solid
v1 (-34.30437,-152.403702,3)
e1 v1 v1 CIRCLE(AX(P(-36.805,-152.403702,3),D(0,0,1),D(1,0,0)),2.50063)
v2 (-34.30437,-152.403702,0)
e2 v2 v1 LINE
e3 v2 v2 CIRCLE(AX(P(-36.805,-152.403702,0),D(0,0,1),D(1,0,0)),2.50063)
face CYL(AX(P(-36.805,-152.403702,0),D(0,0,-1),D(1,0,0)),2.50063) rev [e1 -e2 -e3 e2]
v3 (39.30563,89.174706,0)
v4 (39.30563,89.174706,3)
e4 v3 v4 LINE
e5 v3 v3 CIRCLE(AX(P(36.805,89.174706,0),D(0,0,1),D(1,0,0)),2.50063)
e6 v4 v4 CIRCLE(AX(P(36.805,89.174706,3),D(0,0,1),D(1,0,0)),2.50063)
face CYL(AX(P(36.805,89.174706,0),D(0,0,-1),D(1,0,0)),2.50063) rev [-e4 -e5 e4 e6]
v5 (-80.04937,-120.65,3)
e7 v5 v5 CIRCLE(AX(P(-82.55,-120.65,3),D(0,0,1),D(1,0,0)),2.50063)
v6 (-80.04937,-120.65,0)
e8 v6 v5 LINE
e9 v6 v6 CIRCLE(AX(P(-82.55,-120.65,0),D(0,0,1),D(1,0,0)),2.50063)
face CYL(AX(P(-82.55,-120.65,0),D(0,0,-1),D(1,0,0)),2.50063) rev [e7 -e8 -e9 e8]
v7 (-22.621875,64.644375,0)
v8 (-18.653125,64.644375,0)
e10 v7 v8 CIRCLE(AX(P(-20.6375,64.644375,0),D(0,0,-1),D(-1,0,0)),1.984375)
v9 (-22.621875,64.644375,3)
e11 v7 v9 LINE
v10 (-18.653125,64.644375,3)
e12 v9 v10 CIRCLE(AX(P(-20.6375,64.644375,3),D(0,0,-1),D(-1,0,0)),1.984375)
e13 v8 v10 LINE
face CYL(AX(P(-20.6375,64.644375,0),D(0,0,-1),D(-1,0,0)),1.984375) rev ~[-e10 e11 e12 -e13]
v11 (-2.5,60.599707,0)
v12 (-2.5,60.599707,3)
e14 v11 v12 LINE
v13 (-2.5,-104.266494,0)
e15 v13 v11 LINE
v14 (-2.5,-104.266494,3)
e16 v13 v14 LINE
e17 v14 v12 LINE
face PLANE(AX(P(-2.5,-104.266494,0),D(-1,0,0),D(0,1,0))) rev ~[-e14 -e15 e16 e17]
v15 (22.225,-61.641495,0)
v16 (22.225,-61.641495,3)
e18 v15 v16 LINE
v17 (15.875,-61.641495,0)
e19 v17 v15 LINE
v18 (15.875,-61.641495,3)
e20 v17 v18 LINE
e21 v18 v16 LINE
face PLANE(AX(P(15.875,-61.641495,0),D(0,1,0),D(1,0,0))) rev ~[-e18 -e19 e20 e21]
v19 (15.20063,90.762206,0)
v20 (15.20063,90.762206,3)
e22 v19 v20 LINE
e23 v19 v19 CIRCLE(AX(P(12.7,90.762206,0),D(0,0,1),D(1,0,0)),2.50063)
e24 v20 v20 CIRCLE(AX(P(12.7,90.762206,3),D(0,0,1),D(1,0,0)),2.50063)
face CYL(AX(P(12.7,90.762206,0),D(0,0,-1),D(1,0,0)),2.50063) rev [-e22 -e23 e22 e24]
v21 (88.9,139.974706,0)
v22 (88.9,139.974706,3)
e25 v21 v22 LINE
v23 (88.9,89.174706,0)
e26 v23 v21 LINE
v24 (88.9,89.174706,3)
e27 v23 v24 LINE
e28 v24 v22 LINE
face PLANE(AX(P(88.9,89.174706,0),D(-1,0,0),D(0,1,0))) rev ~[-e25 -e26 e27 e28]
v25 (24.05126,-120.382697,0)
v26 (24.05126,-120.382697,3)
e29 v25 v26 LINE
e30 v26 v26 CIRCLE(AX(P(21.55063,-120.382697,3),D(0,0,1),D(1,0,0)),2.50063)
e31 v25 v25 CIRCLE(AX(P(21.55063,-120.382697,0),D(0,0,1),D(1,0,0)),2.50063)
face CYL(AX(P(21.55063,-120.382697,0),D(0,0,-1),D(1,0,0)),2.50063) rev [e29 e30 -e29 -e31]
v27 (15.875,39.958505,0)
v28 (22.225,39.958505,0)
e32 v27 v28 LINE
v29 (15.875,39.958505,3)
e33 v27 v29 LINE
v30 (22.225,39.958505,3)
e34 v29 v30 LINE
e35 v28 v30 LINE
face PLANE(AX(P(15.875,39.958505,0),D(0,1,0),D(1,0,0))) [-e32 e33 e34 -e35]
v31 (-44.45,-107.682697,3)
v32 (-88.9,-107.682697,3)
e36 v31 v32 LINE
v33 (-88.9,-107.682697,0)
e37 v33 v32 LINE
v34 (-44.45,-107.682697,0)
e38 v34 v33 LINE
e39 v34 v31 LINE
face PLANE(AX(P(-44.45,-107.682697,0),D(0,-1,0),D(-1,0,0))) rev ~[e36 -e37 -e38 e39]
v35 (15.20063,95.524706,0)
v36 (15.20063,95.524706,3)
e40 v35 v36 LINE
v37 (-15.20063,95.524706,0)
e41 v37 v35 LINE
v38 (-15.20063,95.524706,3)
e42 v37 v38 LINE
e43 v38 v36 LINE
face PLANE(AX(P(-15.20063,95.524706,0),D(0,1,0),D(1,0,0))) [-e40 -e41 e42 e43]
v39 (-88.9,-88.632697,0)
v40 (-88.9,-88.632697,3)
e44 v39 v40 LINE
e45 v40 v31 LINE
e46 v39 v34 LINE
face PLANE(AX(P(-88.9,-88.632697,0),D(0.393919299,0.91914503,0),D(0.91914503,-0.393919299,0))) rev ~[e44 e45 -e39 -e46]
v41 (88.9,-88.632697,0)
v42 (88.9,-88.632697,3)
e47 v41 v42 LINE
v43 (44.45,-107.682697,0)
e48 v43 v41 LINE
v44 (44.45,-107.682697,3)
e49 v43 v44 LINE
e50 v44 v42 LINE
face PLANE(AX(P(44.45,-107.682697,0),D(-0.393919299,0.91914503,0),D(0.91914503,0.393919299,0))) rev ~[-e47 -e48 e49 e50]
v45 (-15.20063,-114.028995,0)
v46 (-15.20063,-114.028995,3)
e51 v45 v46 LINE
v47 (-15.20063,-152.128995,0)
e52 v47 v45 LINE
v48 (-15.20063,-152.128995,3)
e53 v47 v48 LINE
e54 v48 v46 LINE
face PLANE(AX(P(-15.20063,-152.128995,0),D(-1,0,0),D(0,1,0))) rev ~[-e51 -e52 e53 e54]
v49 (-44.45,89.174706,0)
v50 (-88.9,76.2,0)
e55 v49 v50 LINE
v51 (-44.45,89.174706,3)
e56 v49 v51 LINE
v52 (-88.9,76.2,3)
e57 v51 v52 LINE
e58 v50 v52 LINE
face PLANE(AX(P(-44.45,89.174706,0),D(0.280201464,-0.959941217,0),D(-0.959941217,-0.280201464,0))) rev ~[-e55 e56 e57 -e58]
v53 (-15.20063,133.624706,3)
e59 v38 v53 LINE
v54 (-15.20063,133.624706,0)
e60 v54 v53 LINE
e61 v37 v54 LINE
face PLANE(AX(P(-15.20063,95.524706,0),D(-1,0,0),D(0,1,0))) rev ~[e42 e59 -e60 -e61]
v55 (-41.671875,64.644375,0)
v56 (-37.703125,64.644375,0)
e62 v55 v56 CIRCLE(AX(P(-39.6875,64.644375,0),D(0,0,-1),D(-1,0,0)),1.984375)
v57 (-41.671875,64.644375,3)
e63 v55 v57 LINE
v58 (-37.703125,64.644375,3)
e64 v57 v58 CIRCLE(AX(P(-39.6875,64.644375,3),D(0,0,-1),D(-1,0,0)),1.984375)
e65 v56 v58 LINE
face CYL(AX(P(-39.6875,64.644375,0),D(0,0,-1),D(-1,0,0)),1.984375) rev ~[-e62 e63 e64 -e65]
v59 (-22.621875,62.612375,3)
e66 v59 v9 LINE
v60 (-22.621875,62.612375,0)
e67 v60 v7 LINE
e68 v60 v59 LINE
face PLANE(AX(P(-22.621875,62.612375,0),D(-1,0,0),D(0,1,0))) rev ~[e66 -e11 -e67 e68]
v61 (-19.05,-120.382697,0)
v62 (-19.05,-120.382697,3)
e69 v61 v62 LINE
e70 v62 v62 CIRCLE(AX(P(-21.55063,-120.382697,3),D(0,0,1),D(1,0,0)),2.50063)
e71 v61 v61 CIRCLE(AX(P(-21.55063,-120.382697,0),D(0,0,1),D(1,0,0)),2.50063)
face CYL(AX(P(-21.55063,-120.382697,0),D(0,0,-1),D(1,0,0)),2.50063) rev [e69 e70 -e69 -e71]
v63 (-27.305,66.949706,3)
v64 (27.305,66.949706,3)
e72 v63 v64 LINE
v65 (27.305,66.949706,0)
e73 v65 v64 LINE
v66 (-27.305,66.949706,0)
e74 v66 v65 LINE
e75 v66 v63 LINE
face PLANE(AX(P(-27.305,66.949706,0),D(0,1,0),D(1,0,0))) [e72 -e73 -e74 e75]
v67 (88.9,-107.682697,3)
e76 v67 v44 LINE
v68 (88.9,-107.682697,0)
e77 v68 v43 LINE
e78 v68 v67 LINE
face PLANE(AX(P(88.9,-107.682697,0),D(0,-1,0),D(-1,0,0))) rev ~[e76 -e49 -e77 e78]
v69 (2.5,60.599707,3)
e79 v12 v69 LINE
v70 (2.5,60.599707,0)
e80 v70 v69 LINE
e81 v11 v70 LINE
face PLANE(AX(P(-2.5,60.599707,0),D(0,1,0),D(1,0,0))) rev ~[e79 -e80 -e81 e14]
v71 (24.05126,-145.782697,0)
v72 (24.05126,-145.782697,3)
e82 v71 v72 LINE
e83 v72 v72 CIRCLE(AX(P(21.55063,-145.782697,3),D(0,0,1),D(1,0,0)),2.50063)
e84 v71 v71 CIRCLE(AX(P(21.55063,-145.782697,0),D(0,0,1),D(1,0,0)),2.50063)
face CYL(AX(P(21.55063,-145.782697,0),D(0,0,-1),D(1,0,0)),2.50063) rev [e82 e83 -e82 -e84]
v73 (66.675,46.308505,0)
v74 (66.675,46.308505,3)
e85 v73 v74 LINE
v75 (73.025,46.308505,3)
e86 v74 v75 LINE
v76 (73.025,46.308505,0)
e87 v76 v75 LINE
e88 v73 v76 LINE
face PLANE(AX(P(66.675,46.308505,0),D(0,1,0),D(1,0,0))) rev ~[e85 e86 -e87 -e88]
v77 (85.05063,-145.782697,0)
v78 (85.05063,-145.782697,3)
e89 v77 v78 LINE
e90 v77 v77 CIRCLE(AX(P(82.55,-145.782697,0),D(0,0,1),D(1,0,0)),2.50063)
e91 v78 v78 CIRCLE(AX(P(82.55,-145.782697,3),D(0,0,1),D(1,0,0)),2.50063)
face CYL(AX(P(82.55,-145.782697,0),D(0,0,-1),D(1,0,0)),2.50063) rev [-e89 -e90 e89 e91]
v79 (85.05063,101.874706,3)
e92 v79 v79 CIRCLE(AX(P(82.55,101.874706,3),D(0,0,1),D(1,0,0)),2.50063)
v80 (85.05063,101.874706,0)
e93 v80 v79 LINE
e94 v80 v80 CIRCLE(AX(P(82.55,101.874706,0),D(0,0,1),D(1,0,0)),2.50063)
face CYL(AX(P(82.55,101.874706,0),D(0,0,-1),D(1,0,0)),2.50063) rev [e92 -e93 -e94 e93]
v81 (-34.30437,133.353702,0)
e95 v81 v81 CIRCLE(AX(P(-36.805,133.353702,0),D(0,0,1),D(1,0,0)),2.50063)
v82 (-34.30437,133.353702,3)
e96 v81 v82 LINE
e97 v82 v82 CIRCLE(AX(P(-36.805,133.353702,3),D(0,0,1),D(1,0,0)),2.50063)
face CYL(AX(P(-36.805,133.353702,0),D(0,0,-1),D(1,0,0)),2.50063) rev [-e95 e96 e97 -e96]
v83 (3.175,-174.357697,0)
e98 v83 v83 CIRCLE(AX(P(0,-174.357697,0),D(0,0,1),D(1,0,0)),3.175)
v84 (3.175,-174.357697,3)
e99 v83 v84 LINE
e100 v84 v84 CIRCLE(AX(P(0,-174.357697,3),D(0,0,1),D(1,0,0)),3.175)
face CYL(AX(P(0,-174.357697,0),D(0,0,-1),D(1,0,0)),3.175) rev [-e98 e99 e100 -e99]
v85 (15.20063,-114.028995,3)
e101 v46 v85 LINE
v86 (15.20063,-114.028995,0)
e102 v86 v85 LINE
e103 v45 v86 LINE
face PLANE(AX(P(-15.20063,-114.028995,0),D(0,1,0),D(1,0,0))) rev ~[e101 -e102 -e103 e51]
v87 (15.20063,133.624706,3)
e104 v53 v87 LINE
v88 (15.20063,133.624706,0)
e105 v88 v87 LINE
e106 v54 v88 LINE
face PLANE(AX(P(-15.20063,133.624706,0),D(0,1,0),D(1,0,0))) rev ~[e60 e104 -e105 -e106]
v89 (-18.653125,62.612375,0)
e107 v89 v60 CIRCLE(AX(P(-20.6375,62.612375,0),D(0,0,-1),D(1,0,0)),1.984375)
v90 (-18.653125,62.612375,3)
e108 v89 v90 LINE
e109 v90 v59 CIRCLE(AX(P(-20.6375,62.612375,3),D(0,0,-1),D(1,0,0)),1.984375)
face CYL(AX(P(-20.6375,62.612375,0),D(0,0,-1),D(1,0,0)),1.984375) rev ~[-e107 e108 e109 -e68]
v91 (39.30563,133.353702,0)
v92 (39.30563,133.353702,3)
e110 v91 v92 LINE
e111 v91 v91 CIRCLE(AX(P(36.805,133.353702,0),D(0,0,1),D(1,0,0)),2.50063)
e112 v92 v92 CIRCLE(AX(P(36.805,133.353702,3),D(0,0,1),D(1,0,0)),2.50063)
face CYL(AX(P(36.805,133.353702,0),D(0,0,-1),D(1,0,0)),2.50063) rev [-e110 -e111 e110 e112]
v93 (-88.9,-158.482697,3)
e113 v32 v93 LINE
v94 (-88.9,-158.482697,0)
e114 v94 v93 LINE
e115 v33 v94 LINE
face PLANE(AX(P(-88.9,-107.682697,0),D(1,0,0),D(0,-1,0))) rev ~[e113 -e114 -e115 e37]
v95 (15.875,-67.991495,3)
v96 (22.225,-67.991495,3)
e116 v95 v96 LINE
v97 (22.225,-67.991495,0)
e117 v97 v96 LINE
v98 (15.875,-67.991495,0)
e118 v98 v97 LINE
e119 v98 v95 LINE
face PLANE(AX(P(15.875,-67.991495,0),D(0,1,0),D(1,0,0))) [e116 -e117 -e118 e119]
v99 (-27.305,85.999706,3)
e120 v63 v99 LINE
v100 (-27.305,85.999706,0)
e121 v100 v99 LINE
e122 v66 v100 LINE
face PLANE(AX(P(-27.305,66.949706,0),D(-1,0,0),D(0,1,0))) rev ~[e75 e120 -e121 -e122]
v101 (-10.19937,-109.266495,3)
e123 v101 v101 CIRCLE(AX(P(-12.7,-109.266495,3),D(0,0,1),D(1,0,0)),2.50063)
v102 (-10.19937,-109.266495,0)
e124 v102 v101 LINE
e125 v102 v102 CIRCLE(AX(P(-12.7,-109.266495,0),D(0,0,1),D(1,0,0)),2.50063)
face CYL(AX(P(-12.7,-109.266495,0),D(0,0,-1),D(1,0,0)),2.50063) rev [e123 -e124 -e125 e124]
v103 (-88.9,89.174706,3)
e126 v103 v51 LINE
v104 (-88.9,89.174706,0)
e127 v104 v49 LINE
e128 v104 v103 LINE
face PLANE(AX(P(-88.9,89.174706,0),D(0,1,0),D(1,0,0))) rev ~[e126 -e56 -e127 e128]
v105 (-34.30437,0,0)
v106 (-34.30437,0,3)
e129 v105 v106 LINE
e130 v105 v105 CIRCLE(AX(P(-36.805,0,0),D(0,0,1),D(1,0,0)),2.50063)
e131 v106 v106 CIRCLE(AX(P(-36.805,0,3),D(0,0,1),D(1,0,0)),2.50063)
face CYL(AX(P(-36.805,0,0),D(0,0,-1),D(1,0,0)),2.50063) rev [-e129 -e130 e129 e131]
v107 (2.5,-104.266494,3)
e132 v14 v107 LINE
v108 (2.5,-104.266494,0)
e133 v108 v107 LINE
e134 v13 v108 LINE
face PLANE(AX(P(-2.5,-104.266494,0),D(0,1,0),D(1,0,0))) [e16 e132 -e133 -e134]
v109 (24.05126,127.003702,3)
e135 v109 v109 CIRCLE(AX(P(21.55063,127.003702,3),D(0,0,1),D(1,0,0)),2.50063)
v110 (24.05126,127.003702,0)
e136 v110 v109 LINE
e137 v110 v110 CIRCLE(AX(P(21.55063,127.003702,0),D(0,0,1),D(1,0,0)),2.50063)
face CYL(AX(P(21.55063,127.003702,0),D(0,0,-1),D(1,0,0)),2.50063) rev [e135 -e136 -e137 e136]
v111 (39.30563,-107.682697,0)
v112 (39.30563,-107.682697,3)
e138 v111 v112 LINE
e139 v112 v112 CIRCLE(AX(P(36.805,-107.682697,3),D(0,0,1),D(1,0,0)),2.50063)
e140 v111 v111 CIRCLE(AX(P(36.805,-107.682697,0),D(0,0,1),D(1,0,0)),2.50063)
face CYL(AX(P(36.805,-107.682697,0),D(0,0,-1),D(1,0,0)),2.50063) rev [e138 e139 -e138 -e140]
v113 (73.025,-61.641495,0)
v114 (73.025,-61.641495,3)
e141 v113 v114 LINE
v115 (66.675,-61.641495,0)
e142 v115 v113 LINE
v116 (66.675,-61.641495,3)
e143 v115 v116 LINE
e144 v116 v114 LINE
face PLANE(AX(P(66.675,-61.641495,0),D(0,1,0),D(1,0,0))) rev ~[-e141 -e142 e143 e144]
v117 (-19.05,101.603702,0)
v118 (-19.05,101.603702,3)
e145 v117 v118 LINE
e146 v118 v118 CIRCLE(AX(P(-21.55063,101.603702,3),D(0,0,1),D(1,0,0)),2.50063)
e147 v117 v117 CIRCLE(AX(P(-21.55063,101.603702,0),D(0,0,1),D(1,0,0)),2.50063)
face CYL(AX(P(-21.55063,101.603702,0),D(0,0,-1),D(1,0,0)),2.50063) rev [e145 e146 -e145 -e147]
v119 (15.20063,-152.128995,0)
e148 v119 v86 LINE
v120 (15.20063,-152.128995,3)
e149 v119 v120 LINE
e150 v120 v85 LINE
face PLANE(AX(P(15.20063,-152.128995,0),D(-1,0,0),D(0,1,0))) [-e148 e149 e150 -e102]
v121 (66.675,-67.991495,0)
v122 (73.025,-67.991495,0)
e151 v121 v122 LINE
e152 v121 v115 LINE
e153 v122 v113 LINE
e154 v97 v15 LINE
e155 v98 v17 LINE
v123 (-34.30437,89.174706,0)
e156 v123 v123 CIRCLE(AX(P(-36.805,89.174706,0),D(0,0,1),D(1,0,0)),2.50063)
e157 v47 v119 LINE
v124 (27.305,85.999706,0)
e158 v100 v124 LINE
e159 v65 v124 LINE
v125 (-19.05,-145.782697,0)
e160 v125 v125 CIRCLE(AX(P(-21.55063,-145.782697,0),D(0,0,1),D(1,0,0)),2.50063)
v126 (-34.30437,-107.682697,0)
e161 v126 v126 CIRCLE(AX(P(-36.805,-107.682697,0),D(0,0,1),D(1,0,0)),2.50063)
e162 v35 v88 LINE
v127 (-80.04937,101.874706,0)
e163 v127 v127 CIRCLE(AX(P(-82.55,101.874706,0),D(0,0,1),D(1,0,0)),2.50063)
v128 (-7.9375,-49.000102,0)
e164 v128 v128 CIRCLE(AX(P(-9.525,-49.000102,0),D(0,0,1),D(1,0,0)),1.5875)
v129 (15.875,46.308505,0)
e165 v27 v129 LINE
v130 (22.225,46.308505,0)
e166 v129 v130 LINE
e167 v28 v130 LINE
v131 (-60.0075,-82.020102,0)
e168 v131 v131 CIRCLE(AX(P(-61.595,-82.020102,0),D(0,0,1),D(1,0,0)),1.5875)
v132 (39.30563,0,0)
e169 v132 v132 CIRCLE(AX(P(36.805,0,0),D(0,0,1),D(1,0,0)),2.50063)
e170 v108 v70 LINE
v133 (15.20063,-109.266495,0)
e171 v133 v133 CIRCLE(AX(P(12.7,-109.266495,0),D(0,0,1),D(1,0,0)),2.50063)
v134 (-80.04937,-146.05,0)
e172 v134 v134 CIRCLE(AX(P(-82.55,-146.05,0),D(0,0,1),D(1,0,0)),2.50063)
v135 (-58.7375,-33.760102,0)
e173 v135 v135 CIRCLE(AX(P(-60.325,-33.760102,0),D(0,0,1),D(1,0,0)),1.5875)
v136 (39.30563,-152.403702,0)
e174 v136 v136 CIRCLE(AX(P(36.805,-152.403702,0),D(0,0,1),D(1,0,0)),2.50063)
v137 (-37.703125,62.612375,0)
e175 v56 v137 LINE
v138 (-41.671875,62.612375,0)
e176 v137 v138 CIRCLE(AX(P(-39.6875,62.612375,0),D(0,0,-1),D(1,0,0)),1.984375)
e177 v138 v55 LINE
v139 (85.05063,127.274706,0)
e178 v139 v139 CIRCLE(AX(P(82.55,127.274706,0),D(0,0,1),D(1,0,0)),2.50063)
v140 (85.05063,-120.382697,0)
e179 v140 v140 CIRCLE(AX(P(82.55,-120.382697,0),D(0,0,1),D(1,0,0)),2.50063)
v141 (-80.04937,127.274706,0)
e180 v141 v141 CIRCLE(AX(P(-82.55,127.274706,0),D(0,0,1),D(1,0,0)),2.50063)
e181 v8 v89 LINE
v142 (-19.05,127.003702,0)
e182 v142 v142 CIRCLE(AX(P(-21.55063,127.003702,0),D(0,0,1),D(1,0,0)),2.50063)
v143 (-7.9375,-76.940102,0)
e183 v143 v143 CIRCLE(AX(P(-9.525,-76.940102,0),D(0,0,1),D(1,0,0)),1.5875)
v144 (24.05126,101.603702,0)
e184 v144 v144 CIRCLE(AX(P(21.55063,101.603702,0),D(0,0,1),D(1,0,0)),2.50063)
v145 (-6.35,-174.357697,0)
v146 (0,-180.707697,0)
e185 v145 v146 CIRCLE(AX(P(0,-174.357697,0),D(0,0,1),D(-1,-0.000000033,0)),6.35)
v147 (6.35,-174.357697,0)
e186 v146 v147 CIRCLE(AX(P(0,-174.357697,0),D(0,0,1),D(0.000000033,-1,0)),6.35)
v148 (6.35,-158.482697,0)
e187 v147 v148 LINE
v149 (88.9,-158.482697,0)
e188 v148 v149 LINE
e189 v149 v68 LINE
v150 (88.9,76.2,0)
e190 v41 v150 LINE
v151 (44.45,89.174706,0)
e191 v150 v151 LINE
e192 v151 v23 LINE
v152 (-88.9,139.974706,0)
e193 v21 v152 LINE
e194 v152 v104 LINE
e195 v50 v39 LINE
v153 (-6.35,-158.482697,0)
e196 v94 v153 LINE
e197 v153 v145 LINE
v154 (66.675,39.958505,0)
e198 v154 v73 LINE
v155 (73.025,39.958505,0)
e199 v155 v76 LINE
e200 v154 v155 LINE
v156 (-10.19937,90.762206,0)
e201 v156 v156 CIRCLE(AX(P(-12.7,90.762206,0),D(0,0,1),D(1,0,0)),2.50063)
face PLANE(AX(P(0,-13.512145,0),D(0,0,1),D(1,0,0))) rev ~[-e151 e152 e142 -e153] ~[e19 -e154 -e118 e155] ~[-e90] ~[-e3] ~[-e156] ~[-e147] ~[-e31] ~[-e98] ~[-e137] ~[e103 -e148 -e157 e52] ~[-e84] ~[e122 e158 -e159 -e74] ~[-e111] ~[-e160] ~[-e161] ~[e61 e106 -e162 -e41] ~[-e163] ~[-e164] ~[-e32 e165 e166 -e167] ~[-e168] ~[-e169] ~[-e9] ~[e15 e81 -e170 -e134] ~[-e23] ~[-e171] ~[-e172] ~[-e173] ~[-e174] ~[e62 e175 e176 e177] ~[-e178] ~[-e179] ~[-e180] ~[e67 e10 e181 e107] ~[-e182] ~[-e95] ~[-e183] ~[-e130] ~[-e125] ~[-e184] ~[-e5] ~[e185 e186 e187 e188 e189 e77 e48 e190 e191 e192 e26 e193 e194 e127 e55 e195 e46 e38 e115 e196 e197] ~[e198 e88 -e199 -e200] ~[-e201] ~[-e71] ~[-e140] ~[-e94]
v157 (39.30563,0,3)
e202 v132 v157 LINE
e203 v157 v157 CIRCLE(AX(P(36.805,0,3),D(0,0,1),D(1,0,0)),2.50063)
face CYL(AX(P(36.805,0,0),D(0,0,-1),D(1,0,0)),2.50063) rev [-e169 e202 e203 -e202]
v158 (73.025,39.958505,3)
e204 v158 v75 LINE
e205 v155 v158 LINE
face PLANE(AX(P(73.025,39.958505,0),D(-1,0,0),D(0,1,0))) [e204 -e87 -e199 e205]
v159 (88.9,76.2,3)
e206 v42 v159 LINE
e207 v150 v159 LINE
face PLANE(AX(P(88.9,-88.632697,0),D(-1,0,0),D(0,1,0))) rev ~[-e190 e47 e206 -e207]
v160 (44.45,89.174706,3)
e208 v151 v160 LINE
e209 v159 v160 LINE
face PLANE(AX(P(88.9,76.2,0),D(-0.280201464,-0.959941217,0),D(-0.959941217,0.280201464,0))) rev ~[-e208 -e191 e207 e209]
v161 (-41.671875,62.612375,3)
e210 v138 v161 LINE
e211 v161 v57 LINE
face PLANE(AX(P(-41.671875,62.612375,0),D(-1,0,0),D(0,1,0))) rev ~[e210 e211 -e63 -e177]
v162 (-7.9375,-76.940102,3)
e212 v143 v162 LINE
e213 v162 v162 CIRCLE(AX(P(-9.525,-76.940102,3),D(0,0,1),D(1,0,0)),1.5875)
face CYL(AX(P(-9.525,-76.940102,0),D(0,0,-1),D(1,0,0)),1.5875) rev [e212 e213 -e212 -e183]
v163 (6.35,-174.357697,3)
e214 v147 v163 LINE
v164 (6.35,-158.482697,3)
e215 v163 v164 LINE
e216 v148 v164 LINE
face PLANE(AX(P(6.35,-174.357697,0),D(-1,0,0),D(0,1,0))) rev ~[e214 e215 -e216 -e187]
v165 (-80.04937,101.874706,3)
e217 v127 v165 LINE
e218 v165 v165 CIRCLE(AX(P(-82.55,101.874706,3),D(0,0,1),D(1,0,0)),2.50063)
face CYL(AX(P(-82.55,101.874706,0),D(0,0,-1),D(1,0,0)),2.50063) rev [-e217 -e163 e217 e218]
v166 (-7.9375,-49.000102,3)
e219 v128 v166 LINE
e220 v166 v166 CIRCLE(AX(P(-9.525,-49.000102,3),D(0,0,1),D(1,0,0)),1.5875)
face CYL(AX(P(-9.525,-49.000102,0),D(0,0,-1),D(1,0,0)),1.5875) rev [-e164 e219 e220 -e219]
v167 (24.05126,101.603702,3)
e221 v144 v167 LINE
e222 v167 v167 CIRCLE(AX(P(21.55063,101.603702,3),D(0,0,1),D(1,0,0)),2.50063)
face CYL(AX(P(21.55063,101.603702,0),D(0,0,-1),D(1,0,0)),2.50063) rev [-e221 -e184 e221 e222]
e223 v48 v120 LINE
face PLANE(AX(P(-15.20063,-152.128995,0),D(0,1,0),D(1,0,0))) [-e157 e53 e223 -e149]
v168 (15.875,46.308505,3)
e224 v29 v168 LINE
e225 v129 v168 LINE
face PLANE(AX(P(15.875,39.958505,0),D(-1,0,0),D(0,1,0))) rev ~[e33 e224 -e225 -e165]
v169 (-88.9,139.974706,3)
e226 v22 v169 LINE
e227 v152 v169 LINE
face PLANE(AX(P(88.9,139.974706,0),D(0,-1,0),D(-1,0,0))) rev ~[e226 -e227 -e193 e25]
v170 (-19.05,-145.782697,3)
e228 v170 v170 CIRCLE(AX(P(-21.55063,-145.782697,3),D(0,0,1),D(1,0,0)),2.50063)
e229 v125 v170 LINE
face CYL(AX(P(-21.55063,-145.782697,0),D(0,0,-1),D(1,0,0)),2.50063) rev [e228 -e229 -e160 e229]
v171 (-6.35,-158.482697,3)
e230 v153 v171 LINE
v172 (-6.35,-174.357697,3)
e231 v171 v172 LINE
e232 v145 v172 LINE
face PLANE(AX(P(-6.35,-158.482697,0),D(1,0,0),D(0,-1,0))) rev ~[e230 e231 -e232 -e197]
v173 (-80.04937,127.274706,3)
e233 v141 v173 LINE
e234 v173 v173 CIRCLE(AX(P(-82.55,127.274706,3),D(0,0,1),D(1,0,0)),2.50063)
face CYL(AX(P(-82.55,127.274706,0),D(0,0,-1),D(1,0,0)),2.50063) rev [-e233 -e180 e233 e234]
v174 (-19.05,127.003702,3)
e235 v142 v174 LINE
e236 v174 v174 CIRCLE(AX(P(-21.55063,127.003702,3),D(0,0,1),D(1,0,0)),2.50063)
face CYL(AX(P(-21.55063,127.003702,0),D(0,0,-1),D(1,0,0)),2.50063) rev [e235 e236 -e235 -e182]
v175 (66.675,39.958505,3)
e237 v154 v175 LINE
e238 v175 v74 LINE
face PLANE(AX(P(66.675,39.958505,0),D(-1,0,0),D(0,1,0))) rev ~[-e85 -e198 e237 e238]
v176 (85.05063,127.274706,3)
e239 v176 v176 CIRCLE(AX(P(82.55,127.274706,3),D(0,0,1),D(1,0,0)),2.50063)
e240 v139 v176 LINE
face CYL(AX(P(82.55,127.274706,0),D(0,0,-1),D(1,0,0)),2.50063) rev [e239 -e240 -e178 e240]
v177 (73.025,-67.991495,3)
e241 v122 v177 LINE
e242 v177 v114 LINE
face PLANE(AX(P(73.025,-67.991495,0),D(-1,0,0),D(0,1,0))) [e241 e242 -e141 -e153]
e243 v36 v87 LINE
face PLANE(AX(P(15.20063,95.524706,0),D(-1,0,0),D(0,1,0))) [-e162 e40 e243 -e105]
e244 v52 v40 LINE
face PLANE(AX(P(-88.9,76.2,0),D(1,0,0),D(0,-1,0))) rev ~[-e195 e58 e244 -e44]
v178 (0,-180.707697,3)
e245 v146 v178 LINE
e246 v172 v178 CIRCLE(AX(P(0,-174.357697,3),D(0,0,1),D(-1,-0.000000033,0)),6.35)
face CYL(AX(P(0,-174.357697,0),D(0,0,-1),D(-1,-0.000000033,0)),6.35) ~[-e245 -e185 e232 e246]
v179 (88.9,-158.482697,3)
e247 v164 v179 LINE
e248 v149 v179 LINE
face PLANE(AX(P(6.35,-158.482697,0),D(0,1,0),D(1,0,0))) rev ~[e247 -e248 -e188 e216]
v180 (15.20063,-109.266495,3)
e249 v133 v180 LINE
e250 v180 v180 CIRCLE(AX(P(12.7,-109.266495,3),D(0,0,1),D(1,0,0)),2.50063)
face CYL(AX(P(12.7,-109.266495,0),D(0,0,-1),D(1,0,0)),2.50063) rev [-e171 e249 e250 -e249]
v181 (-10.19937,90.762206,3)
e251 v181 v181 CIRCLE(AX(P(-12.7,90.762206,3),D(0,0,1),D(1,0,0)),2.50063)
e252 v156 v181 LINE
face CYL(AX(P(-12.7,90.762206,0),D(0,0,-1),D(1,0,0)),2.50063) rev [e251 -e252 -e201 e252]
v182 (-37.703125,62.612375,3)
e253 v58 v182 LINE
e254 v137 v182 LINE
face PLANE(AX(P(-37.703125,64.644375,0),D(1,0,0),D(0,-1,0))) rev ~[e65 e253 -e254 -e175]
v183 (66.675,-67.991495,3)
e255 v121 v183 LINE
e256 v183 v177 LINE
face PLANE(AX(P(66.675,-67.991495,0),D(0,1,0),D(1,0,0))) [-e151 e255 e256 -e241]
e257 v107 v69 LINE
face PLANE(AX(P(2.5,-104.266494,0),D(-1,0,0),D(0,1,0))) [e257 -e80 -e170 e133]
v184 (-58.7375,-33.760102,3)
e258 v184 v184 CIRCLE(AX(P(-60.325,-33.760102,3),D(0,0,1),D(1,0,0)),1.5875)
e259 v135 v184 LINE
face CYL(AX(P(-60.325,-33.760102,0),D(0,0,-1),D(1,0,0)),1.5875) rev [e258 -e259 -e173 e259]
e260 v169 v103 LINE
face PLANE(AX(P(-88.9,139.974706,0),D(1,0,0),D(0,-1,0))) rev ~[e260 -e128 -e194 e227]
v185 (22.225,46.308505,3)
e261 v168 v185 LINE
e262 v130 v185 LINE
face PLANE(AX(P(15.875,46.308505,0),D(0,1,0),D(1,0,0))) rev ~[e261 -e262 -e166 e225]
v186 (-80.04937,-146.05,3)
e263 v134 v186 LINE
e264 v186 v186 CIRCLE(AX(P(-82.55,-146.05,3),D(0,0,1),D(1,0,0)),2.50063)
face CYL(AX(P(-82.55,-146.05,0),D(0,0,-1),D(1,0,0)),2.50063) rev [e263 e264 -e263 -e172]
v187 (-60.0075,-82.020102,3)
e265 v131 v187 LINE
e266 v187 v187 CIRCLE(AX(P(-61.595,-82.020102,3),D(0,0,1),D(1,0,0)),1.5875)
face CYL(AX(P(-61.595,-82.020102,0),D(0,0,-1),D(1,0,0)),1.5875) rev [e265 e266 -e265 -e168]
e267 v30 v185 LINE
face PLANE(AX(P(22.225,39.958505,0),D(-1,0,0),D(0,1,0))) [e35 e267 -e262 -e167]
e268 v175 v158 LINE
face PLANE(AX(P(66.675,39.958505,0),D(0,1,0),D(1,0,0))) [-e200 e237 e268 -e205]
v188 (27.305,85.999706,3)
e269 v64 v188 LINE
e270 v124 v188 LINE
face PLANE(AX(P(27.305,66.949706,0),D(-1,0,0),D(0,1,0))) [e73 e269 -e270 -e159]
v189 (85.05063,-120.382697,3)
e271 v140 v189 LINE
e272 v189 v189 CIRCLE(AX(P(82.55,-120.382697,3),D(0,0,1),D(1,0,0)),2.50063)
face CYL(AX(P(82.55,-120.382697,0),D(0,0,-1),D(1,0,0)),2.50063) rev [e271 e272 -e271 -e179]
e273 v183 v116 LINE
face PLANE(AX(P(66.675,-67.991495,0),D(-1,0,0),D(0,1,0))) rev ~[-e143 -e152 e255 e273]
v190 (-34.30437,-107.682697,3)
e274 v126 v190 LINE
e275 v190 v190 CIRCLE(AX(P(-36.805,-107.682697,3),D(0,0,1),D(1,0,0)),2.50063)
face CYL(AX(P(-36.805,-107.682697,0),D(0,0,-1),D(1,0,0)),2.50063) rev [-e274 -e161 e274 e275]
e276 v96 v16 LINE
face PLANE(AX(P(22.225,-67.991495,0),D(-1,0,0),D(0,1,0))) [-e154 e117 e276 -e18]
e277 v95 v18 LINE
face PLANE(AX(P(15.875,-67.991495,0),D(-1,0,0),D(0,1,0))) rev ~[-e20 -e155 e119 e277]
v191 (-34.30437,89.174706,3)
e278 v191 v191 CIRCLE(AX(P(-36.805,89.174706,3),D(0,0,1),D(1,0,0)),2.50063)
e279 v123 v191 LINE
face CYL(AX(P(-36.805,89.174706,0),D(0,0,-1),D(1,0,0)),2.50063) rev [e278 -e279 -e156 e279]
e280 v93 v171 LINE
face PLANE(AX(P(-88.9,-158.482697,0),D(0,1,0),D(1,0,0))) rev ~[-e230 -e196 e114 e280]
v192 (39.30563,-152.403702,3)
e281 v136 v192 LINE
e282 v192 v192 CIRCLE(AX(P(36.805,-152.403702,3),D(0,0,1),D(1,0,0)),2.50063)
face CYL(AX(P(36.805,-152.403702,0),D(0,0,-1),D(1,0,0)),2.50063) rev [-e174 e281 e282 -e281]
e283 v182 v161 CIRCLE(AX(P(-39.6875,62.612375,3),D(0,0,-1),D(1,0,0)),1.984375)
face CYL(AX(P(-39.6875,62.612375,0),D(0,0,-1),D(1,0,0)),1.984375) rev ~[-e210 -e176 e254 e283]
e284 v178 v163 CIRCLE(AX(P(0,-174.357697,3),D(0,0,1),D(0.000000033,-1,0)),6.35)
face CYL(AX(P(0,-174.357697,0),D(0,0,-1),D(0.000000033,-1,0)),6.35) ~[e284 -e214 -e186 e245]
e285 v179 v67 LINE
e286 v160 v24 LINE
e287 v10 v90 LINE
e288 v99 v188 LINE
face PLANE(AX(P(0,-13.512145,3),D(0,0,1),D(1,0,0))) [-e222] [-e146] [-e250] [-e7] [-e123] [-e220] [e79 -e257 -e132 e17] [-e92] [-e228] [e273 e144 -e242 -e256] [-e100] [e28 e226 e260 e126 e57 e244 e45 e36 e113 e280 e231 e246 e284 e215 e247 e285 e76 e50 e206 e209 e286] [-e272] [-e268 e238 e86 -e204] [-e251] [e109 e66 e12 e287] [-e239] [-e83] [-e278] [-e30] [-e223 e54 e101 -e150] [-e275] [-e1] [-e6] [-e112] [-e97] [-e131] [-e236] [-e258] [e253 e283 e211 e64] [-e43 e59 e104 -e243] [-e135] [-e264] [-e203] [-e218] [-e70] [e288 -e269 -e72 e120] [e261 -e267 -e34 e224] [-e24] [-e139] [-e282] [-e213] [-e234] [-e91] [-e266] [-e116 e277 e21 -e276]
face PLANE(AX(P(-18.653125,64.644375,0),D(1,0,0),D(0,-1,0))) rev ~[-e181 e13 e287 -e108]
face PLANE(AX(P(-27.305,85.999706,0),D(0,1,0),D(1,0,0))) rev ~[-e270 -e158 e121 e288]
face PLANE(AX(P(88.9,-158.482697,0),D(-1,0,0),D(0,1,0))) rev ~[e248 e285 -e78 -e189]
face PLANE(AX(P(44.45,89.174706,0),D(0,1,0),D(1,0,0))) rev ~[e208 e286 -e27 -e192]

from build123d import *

# Parameters (mm, degrees)
F0_R     = 2.50063
F0_R_2   = 1.5875
F0_R_3   = 3.175
F0_W     = 30.40126
F0_H     = 38.1
F0_W_2   = 6.35
F0_H_2   = 6.35
F0_W_3   = 5
F0_H_3   = 164.866201
F0_W_4   = 54.61
F0_H_4   = 19.05
F1_DEPTH = 3


with BuildPart() as f1:
    # F0 (on Top) → F1 (new body)
    with BuildSketch(Plane.XY):
        with BuildLine():
            Line((44.45, 89.174706), (88.9, 89.174706))
            Line((88.9, 89.174706), (88.9, 139.974706))
            Line((88.9, 139.974706), (-88.9, 139.974706))
            Line((-88.9, 139.974706), (-88.9, 89.174706))
            Line((-88.9, 89.174706), (-44.45, 89.174706))
            Line((-44.45, 89.174706), (-88.9, 76.2))
            Line((-88.9, 76.2), (-88.9, -88.632697))
            Line((-88.9, -88.632697), (-44.45, -107.682697))
            Line((-44.45, -107.682697), (-88.9, -107.682697))
            Line((-88.9, -107.682697), (-88.9, -158.482697))
            Line((-88.9, -158.482697), (-6.35, -158.482697))
            Line((-6.35, -158.482697), (-6.35, -174.357697))
            ThreePointArc((-6.35, -174.357697), (-4.490128, -178.847825), (0, -180.707697))
            ThreePointArc((0, -180.707697), (4.490128, -178.847825), (6.35, -174.357697))
            Line((6.35, -174.357697), (6.35, -158.482697))
            Line((6.35, -158.482697), (88.9, -158.482697))
            Line((88.9, -158.482697), (88.9, -107.682697))
            Line((88.9, -107.682697), (44.45, -107.682697))
            Line((44.45, -107.682697), (88.9, -88.632697))
            Line((88.9, -88.632697), (88.9, 66.949706))
            Line((88.9, 66.949706), (88.9, 76.2))
            Line((88.9, 76.2), (44.45, 89.174706))
        make_face()
        with Locations((-82.55, -146.05)):
            Circle(F0_R, mode=Mode.SUBTRACT)
        with Locations((-82.55, -120.65)):
            Circle(F0_R, mode=Mode.SUBTRACT)
        with Locations((-36.805, -152.403702)):
            Circle(F0_R, mode=Mode.SUBTRACT)
        with Locations((-21.55063, -145.782697)):
            Circle(F0_R, mode=Mode.SUBTRACT)
        with Locations((-36.805, -107.682697)):
            Circle(F0_R, mode=Mode.SUBTRACT)
        with Locations((-21.55063, -120.382697)):
            Circle(F0_R, mode=Mode.SUBTRACT)
        with Locations((-12.7, -109.266495)):
            Circle(F0_R, mode=Mode.SUBTRACT)
        with Locations((-61.595, -82.020102)):
            Circle(F0_R_2, mode=Mode.SUBTRACT)
        with Locations((-60.325, -33.760102)):
            Circle(F0_R_2, mode=Mode.SUBTRACT)
        with Locations((-9.525, -76.940102)):
            Circle(F0_R_2, mode=Mode.SUBTRACT)
        with Locations((-9.525, -49.000102)):
            Circle(F0_R_2, mode=Mode.SUBTRACT)
        with Locations((0, -174.357697)):
            Circle(F0_R_3, mode=Mode.SUBTRACT)
        with Locations((21.55063, -145.782697)):
            Circle(F0_R, mode=Mode.SUBTRACT)
        with Locations((36.805, -152.403702)):
            Circle(F0_R, mode=Mode.SUBTRACT)
        with Locations((0, -133.078995)):
            Rectangle(F0_W, F0_H, mode=Mode.SUBTRACT)
        with Locations((21.55063, -120.382697)):
            Circle(F0_R, mode=Mode.SUBTRACT)
        with Locations((12.7, -109.266495)):
            Circle(F0_R, mode=Mode.SUBTRACT)
        with Locations((36.805, -107.682697)):
            Circle(F0_R, mode=Mode.SUBTRACT)
        with Locations((82.55, -145.782697)):
            Circle(F0_R, mode=Mode.SUBTRACT)
        with Locations((82.55, -120.382697)):
            Circle(F0_R, mode=Mode.SUBTRACT)
        with Locations((19.05, -64.816495)):
            Rectangle(F0_W_2, F0_H_2, mode=Mode.SUBTRACT)
        with Locations((0, -21.833394)):
            Rectangle(F0_W_3, F0_H_3, mode=Mode.SUBTRACT)
        with Locations((69.85, -64.816495)):
            Rectangle(F0_W_2, F0_H_2, mode=Mode.SUBTRACT)
        with Locations((-36.805, 0)):
            Circle(F0_R, mode=Mode.SUBTRACT)
        with Locations((-82.55, 101.874706)):
            Circle(F0_R, mode=Mode.SUBTRACT)
        with Locations((-82.55, 127.274706)):
            Circle(F0_R, mode=Mode.SUBTRACT)
        with BuildLine():
            ThreePointArc((-41.671875, 64.644375), (-39.6875, 66.62875), (-37.703125, 64.644375))
            Line((-37.703125, 64.644375), (-37.703125, 62.612375))
            ThreePointArc((-37.703125, 62.612375), (-39.6875, 60.628), (-41.671875, 62.612375))
            Line((-41.671875, 62.612375), (-41.671875, 64.644375))
        make_face(mode=Mode.SUBTRACT)
        with Locations((-36.805, 89.174706)):
            Circle(F0_R, mode=Mode.SUBTRACT)
        with BuildLine():
            Line((-22.621875, 62.612375), (-22.621875, 64.644375))
            ThreePointArc((-22.621875, 64.644375), (-20.6375, 66.62875), (-18.653125, 64.644375))
            Line((-18.653125, 64.644375), (-18.653125, 62.612375))
            ThreePointArc((-18.653125, 62.612375), (-20.6375, 60.628), (-22.621875, 62.612375))
        make_face(mode=Mode.SUBTRACT)
        with Locations((-12.7, 90.762206)):
            Circle(F0_R, mode=Mode.SUBTRACT)
        with Locations((-36.805, 133.353702)):
            Circle(F0_R, mode=Mode.SUBTRACT)
        with Locations((-21.55063, 101.603702)):
            Circle(F0_R, mode=Mode.SUBTRACT)
        with Locations((-21.55063, 127.003702)):
            Circle(F0_R, mode=Mode.SUBTRACT)
        with Locations((36.805, 0)):
            Circle(F0_R, mode=Mode.SUBTRACT)
        with Locations((19.05, 43.133505)):
            Rectangle(F0_W_2, F0_H_2, mode=Mode.SUBTRACT)
        with Locations((69.85, 43.133505)):
            Rectangle(F0_W_2, F0_H_2, mode=Mode.SUBTRACT)
        with Locations((0, 76.474706)):
            Rectangle(F0_W_4, F0_H_4, mode=Mode.SUBTRACT)
        with Locations((12.7, 90.762206)):
            Circle(F0_R, mode=Mode.SUBTRACT)
        with Locations((36.805, 89.174706)):
            Circle(F0_R, mode=Mode.SUBTRACT)
        with Locations((0, 114.574706)):
            Rectangle(F0_W, F0_H, mode=Mode.SUBTRACT)
        with Locations((21.55063, 101.603702)):
            Circle(F0_R, mode=Mode.SUBTRACT)
        with Locations((21.55063, 127.003702)):
            Circle(F0_R, mode=Mode.SUBTRACT)
        with Locations((36.805, 133.353702)):
            Circle(F0_R, mode=Mode.SUBTRACT)
        with Locations((82.55, 101.874706)):
            Circle(F0_R, mode=Mode.SUBTRACT)
        with Locations((82.55, 127.274706)):
            Circle(F0_R, mode=Mode.SUBTRACT)
    extrude(amount=F1_DEPTH)


solid = f1.part
